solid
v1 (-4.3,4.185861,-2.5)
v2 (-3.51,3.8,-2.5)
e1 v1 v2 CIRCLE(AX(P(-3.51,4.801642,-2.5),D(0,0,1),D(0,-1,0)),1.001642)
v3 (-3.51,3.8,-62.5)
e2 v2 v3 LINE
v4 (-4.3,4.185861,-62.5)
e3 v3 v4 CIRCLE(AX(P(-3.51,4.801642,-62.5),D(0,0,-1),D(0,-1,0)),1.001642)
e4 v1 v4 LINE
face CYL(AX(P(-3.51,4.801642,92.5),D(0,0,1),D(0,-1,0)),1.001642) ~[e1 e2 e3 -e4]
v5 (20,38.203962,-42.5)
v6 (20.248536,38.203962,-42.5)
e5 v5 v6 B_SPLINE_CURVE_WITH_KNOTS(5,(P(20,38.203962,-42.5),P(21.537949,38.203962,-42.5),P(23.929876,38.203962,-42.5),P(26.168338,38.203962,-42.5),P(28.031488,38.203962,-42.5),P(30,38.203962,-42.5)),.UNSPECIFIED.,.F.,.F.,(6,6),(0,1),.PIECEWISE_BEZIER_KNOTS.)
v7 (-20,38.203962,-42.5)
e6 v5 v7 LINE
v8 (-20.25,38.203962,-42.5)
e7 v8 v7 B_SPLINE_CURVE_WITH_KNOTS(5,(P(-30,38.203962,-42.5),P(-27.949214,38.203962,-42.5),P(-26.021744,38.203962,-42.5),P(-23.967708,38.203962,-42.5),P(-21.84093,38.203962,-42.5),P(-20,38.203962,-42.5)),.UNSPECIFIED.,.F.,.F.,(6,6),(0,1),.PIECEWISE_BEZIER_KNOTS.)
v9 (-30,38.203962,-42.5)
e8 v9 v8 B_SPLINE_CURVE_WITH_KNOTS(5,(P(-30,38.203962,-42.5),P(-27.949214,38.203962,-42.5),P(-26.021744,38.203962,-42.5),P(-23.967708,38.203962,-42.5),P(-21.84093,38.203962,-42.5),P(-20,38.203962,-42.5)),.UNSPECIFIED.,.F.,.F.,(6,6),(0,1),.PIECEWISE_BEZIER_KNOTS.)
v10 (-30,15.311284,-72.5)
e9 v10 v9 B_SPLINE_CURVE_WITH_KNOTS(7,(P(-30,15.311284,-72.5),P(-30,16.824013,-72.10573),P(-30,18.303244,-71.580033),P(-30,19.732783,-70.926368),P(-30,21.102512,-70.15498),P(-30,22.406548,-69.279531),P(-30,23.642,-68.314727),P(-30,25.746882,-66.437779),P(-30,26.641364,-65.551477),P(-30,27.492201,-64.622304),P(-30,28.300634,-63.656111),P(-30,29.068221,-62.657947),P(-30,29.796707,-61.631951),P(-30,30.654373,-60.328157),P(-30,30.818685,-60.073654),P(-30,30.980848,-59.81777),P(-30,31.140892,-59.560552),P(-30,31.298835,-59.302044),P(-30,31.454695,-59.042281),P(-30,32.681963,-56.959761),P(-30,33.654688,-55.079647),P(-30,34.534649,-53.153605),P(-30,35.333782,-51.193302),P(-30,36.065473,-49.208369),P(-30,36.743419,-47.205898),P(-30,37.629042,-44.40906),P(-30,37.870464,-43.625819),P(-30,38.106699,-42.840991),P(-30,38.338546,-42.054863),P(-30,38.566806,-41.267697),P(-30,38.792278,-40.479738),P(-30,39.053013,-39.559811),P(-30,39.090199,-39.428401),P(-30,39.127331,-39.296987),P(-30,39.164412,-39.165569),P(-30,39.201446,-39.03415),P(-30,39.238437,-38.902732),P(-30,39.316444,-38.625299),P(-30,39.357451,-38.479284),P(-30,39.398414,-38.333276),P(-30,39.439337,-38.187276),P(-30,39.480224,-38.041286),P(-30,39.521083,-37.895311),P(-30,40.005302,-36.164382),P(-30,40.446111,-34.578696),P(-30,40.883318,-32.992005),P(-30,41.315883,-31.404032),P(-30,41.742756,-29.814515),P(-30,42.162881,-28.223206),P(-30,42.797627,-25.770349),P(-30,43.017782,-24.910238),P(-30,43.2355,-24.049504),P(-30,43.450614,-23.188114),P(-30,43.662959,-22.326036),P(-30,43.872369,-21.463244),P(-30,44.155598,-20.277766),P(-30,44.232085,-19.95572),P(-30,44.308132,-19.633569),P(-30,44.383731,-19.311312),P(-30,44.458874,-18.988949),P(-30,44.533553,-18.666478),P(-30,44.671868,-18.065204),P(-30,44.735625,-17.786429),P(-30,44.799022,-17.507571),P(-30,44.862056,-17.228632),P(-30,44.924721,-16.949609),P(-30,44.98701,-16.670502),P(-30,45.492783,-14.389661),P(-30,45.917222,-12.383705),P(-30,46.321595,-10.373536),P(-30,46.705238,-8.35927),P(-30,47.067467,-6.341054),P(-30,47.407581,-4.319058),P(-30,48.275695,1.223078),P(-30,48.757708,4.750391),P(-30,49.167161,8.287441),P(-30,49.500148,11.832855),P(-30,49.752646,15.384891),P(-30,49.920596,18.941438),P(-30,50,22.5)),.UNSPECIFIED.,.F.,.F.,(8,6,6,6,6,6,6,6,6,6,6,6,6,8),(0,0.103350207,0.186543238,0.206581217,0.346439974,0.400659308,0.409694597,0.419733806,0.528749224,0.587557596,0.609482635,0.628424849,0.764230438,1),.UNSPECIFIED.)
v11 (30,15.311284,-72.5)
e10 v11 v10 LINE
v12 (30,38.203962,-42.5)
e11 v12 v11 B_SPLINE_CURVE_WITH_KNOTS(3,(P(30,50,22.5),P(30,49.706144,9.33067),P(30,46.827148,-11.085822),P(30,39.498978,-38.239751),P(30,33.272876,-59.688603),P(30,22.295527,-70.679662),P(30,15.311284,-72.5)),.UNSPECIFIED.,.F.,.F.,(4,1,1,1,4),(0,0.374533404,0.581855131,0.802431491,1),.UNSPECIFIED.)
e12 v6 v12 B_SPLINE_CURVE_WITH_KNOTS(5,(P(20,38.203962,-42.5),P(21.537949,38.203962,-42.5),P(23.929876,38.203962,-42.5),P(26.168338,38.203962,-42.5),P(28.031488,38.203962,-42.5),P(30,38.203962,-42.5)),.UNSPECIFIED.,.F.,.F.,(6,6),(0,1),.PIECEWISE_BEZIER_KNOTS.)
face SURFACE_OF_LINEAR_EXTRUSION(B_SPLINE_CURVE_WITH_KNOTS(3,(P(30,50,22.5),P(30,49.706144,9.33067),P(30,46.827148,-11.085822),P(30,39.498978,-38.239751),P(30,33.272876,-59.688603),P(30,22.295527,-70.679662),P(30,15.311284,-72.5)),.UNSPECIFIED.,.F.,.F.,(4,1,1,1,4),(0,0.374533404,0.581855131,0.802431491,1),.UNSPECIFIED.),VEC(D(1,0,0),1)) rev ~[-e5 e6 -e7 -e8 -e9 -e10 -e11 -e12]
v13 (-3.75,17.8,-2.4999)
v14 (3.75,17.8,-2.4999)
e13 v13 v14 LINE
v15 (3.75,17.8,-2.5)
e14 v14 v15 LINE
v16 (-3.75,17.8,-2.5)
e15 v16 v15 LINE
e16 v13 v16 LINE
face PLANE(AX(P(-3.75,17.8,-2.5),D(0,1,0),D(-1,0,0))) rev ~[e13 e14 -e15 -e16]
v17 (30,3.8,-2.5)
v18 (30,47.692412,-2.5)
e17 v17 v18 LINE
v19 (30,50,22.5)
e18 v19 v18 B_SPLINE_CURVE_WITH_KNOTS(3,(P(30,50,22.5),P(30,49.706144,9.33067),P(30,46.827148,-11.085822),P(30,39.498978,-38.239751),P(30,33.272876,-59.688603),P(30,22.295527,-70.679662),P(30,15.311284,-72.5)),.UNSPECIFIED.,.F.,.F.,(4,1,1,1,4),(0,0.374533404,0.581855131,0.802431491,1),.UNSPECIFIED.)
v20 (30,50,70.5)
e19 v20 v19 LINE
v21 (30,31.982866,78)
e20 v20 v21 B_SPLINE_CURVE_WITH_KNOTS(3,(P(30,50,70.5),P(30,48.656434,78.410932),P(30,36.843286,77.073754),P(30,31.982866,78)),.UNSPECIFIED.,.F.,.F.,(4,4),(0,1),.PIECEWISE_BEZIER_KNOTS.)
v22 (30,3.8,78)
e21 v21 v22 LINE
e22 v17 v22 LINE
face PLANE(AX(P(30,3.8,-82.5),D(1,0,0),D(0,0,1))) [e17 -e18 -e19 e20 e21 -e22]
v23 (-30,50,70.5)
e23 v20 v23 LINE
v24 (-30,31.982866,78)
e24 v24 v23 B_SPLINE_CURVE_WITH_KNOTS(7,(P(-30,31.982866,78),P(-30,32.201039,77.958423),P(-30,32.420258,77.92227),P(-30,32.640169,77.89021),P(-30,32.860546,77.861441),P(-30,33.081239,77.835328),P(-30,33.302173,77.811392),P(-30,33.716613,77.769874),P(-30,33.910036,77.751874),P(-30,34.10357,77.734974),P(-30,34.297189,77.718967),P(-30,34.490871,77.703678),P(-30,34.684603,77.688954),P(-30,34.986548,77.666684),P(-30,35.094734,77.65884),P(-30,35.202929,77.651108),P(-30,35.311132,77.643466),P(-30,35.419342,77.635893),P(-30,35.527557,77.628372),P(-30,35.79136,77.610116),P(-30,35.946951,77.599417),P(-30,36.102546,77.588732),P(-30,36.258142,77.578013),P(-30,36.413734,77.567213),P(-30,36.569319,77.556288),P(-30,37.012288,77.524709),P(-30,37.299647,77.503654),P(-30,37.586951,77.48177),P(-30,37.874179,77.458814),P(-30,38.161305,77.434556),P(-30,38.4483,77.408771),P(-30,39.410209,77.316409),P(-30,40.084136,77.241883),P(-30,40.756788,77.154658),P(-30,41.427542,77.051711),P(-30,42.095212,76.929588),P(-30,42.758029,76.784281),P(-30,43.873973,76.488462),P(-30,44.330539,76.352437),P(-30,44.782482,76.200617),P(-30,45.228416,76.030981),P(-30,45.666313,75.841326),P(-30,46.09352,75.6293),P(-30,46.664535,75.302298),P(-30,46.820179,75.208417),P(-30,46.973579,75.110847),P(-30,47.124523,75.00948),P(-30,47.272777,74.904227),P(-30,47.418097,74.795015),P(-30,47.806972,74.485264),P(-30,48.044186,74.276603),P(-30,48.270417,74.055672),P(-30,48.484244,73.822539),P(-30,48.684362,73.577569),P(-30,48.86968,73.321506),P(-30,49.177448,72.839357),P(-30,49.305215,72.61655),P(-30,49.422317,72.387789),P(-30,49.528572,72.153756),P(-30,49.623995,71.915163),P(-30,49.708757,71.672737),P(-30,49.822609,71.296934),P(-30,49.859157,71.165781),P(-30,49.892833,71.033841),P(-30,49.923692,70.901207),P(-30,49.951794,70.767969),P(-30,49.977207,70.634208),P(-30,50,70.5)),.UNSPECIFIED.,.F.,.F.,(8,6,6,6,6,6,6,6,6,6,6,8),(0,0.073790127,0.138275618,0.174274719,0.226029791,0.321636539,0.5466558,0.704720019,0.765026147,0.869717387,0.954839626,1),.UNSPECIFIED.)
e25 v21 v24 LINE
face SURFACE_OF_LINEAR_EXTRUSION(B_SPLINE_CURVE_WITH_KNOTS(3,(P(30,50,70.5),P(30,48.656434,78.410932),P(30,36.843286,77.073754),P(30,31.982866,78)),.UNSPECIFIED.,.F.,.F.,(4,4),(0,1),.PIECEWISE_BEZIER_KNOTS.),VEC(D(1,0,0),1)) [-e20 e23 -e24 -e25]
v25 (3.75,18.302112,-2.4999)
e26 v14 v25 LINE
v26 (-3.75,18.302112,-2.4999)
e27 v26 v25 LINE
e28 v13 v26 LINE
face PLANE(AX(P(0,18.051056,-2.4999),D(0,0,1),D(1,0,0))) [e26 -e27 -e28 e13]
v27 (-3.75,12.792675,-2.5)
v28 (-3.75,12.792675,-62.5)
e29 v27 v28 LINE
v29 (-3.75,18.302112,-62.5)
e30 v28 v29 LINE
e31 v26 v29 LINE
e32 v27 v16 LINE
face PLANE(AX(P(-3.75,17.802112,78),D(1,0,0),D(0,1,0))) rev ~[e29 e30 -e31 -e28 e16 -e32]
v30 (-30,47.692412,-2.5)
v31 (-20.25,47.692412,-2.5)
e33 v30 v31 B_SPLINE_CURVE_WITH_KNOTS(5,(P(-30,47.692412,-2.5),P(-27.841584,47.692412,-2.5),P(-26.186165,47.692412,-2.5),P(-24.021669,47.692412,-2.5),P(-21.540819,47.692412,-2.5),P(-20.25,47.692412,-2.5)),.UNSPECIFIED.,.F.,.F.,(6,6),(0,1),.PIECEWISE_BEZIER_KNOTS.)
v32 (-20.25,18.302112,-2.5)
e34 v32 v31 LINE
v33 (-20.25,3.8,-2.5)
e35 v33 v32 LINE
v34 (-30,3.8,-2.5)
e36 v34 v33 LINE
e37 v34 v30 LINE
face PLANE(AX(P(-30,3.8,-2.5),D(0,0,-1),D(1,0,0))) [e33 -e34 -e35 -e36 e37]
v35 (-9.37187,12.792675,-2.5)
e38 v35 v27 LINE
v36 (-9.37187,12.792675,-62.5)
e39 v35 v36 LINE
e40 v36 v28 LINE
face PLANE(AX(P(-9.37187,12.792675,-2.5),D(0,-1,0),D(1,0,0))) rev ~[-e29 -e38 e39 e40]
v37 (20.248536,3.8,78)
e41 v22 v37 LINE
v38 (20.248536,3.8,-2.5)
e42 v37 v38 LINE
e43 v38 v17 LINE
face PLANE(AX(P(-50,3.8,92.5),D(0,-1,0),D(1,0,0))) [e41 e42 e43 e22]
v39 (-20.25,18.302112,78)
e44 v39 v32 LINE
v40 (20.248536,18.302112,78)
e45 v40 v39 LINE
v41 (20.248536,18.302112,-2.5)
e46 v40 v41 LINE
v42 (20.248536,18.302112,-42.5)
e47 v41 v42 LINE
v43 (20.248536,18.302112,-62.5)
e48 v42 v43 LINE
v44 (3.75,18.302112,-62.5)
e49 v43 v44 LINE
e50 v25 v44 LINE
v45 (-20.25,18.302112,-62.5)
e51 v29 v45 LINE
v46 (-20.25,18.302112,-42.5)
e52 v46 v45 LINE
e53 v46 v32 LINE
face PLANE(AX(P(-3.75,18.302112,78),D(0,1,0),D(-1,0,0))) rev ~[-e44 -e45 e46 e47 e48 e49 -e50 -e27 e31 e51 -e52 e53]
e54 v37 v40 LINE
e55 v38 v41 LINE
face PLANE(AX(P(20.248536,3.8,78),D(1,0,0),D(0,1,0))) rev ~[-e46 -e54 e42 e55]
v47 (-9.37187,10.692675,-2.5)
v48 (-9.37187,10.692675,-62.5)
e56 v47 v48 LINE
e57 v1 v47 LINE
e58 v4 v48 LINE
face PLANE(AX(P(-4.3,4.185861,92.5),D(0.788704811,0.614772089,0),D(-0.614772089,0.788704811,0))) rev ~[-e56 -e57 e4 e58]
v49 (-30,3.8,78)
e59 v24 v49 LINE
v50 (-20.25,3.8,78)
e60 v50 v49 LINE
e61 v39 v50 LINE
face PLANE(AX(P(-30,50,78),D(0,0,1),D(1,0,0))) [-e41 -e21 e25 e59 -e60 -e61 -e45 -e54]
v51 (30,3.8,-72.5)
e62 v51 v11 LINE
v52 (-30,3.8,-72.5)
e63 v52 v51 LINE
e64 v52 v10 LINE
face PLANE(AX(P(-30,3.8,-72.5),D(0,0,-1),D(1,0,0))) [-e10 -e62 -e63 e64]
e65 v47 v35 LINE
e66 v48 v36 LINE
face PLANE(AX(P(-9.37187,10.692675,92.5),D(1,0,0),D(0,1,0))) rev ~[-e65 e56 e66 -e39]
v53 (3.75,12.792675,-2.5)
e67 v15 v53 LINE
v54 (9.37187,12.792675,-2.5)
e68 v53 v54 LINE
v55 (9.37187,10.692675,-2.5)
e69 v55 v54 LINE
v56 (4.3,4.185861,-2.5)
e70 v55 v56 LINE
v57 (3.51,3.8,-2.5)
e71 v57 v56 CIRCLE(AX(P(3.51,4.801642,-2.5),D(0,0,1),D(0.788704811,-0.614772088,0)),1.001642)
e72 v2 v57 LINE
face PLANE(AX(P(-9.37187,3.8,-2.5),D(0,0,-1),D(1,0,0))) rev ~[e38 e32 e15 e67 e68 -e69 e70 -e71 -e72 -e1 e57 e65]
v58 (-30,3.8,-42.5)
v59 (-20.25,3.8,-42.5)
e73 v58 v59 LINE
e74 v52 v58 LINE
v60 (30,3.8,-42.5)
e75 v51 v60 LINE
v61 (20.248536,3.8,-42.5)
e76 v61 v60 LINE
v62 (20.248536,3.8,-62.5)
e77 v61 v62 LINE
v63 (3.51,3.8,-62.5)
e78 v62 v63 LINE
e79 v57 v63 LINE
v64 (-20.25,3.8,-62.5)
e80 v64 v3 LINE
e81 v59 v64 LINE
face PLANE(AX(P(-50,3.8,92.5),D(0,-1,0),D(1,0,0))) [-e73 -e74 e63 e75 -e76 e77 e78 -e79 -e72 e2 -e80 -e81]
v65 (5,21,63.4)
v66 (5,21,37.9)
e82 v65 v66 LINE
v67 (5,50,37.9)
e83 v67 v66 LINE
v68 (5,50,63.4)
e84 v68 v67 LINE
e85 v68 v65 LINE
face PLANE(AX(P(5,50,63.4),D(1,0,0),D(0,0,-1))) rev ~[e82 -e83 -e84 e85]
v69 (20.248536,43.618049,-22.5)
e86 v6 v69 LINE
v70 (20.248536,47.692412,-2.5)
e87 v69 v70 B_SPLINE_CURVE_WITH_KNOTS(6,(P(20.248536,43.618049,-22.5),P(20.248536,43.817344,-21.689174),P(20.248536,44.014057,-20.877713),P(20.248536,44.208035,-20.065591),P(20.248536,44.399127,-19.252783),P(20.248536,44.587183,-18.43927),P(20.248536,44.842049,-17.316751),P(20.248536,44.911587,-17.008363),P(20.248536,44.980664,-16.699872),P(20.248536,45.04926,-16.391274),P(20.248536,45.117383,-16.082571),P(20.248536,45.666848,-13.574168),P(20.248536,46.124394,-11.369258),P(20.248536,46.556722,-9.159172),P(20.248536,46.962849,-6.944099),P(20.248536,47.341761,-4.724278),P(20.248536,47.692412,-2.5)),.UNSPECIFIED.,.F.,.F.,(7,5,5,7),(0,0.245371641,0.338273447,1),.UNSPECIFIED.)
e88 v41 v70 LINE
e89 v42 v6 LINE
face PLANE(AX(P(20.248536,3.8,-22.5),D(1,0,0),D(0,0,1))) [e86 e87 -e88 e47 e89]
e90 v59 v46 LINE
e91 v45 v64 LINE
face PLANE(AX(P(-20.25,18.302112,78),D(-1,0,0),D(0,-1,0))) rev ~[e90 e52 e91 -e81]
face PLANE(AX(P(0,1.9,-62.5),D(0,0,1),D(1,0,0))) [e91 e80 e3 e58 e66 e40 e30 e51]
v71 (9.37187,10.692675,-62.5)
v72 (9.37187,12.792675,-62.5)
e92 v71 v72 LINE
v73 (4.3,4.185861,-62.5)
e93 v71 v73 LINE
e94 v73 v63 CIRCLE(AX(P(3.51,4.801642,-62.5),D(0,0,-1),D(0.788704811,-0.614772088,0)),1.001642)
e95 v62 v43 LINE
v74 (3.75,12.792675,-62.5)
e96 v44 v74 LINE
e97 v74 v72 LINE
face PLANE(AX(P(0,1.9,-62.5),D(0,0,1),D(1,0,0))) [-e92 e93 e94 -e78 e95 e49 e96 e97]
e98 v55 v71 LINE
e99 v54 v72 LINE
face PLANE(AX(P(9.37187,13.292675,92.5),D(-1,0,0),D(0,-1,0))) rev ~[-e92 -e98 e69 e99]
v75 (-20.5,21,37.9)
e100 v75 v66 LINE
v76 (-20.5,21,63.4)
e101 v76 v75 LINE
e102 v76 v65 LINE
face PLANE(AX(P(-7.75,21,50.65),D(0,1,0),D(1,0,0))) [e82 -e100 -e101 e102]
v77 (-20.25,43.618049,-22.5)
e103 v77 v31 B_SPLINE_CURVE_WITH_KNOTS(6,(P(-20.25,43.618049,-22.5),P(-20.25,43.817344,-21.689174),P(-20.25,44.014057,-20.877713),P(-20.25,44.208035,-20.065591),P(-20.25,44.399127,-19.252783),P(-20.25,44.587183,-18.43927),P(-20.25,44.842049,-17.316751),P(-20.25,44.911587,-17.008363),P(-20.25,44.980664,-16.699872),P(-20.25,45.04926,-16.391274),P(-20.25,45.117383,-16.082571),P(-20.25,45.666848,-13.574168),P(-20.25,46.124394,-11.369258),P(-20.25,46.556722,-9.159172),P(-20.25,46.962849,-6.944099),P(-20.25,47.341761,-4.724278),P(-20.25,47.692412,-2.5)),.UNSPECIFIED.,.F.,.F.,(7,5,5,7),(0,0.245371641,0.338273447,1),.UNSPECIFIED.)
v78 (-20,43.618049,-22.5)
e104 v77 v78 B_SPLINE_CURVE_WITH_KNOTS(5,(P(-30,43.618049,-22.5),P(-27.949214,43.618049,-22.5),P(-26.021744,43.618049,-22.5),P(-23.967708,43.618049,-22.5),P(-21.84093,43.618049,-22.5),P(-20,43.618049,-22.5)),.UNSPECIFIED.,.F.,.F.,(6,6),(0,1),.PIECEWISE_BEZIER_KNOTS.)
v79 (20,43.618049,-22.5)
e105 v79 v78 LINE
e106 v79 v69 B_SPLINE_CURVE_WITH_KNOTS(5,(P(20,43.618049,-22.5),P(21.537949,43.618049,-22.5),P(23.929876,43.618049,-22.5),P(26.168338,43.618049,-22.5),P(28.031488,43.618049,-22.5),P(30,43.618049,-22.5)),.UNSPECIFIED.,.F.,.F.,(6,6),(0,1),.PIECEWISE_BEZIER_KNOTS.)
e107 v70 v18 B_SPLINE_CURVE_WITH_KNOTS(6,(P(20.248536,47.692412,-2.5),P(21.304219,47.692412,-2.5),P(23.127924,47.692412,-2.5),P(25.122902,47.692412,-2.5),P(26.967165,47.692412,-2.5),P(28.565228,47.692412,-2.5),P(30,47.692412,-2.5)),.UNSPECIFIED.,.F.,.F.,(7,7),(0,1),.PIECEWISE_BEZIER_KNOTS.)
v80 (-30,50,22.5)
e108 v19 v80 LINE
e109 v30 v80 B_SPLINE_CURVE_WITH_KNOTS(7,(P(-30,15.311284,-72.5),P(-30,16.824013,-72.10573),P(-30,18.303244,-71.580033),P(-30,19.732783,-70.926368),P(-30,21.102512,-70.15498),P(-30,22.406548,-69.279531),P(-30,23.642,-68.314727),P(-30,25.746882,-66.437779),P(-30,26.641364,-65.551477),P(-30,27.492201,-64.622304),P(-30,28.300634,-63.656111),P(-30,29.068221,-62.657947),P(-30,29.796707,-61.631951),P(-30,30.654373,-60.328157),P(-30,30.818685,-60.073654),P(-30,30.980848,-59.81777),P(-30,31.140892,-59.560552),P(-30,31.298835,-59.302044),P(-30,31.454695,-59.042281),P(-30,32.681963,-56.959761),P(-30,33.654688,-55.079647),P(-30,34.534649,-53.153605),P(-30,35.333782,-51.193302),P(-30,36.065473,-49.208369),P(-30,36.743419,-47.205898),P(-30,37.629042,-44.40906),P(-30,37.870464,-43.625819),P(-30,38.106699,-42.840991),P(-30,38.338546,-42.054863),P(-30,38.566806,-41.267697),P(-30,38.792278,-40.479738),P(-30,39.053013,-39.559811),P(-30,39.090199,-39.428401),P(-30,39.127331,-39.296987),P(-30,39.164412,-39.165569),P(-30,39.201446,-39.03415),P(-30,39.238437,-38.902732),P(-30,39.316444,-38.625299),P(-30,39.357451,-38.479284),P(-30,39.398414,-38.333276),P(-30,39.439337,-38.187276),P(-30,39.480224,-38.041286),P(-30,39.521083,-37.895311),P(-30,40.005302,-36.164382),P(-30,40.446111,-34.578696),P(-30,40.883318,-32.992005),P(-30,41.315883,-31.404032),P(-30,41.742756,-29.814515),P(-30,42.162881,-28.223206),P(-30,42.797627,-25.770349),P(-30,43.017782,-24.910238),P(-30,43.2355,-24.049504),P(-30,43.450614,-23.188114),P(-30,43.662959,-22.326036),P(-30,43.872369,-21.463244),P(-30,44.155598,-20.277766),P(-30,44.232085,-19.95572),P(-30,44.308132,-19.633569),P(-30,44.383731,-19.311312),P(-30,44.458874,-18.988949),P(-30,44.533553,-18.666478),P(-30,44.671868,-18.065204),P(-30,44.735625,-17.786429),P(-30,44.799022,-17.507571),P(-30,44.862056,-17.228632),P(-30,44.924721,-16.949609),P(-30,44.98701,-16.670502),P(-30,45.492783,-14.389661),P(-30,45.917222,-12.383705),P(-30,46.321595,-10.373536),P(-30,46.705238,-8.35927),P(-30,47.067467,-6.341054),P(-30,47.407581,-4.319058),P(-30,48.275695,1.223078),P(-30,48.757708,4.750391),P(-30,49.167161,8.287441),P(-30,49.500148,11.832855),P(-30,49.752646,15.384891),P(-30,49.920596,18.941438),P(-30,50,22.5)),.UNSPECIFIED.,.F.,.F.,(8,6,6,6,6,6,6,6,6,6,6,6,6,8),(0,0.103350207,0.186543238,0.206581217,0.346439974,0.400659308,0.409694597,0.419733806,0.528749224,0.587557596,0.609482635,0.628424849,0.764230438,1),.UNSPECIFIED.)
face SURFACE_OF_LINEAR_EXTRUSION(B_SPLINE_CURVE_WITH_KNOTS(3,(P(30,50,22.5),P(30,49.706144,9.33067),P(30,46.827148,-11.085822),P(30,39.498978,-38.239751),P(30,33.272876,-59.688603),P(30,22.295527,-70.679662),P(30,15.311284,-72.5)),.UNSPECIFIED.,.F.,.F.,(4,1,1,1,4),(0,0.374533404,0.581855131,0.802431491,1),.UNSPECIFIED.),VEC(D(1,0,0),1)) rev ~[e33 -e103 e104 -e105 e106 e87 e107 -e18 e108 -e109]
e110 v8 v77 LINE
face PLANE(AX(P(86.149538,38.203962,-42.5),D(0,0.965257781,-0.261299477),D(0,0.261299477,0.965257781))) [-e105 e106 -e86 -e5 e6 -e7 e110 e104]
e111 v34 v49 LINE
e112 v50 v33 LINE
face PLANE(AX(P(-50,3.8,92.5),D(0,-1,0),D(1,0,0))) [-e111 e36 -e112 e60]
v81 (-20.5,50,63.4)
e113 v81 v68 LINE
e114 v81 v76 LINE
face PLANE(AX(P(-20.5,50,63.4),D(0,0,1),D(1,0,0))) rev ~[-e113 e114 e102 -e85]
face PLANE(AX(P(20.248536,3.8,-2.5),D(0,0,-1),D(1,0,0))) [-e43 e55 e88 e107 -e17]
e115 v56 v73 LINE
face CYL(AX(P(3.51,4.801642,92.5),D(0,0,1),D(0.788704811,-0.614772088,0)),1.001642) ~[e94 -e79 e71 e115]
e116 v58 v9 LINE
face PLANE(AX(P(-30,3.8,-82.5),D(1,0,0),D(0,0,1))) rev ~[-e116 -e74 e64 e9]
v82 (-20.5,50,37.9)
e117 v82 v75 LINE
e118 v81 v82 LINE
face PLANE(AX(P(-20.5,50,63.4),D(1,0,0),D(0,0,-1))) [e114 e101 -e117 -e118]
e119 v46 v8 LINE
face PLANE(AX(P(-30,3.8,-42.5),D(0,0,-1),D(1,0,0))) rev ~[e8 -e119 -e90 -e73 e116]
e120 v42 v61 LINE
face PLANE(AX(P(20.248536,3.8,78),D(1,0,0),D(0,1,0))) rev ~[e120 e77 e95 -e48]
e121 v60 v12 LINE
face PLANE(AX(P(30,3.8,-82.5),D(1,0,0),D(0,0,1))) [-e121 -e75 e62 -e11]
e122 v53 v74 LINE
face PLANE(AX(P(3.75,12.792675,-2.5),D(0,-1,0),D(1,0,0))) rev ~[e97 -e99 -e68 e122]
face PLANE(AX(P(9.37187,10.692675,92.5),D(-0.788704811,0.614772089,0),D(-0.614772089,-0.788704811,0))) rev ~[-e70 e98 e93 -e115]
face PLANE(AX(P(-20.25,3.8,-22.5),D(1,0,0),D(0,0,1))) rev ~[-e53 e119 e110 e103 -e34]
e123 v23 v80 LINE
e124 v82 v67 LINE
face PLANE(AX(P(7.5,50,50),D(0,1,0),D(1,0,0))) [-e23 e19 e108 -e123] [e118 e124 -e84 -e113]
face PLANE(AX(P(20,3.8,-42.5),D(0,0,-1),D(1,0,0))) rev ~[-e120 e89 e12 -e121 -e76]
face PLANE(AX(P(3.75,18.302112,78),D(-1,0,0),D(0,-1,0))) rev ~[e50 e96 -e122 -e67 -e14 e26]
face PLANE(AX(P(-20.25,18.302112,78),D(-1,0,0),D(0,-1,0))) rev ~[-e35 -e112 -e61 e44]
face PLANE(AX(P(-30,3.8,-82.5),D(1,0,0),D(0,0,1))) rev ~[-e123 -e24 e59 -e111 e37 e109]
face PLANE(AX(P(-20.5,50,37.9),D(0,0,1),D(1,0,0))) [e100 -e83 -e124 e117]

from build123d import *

# Parameters (mm, degrees)
SKETCH_1_W                = 100
SKETCH_1_H                = 185
EXTRUDE_1_DEPTH           = 100
SKETCH_2_W                = 100
SKETCH_2_H                = 3.8
CUT_EXTRUDE_1_DEPTH       = 155
CUT_EXTRUDE_2_DEPTH       = 155
SKETCH_4_W                = 25.5
SKETCH_4_H                = 25.5
CUT_EXTRUDE_3_DEPTH       = 79
SKETCH_6_W                = 89.706259743
SKETCH_6_H                = 10
SKETCH_6_W_2              = 10.293740257
CUT_EXTRUDE_4_DEPTH       = 146.107718609
CUT_EXTRUDE_5_DEPTH       = 169.985946161
CUT_EXTRUDE_5_DEPTH_BACK  = 169.985946161
SKETCH_7_W                = 20
SKETCH_7_H                = 3.8
EXTRUDE_4_DEPTH           = 160
SKETCH_10_W               = 16
SKETCH_10_H               = 1.8
CUT_EXTRUDE_6_DEPTH       = 155
SKETCH_13_W               = 20
SKETCH_13_H               = 175
CUT_EXTRUDE_7_DEPTH       = 143.515578096
SKETCH_14_W               = 175
SKETCH_14_H               = 50
CUT_EXTRUDE_8_DEPTH       = 149.849756466
SKETCH_15_W               = 60
SKETCH_15_H               = 10
CUT_EXTRUDE_9_DEPTH       = 108.660066877
SKETCH_16_W               = 60
SKETCH_16_H               = 14.5
CUT_EXTRUDE_10_DEPTH      = 108.660066877
CUT_EXTRUDE_11_DEPTH      = 111.381157812
CUT_EXTRUDE_21_DEPTH      = 162.400898529
CUT_EXTRUDE_21_DEPTH_BACK = 140.5
CUT_EXTRUDE_26_DEPTH      = 111.381157983
SKETCH_34_W               = 10
SKETCH_34_H               = 20
CUT_EXTRUDE_31_DEPTH      = 96.490523251
SKETCH_35_W               = 18.74373947
SKETCH_35_H               = 80.5
CUT_EXTRUDE_32_DEPTH      = 14
CUT_EXTRUDE_35_DEPTH      = 60
CUT_EXTRUDE_36_DEPTH      = 140.5
SKETCH_43_W               = 0.25
SKETCH_43_H               = 0.002112168
CUT_EXTRUDE_37_DEPTH      = 140.5
SKETCH_44_W               = 7.5
SKETCH_44_H               = 0.502112168
CUT_EXTRUDE_38_DEPTH      = 80.4999
SKETCH_45_W               = 9.75
SKETCH_45_H               = 20
SKETCH_45_W_2             = 9.75146362
CUT_EXTRUDE_39_DEPTH      = 96.490523251
SKETCH_46_W               = 0.24853638
SKETCH_46_H               = 20
SKETCH_46_W_2             = 0.25
EXTRUDE_5_DEPTH           = 31.697888
CUT_EXTRUDE_40_DEPTH      = 106.399537724
CUT_EXTRUDE_40_DEPTH_BACK = 106.399537724
SKETCH_54_W               = 25.5
SKETCH_54_H               = 0.5
CUT_EXTRUDE_41_DEPTH      = 29
SKETCH_55_W               = 26
SKETCH_55_H               = 26
EXTRUDE_6_DEPTH           = 29
SKETCH_56_W               = 25.5
SKETCH_56_H               = 25.5
CUT_EXTRUDE_42_DEPTH      = 29


with BuildPart() as part:
    # 草图1 → 凸台-拉伸1 (new body)
    with BuildSketch(Plane(origin=(0, 0, 0), x_dir=(1, 0, 0), z_dir=(0, 1, 0))):
        Rectangle(SKETCH_1_W, SKETCH_1_H)
    extrude(amount=EXTRUDE_1_DEPTH)

    # 草图2 → 切除-拉伸1 (cut)
    with BuildSketch(Plane.XY.offset(92.5)):
        with Locations((0, 1.9)):
            Rectangle(SKETCH_2_W, SKETCH_2_H)
    extrude(amount=-CUT_EXTRUDE_1_DEPTH, mode=Mode.SUBTRACT)

    # 草图3 → 切除-拉伸2 (cut)
    with BuildSketch(Plane.XY.offset(92.5)):
        with BuildLine():
            Line((-20, 3.8), (-3.51, 3.8))
            ThreePointArc((-3.51, 3.8), (-3.949598778, 3.901619975), (-4.3, 4.185860522))
            Line((-4.3, 4.185860522), (-9.371869735, 10.69267521))
            ThreePointArc((-9.371869735, 10.69267521), (-9.267749528, 11.143089764), (-8.9765156, 11.502112168))
            Line((-8.9765156, 11.502112168), (-4.5, 11.502112168))
            ThreePointArc((-4.5, 11.502112168), (-4.146446609, 11.648558777), (-4, 12.002112168))
            Line((-4, 12.002112168), (-4, 16.002112168))
            Line((-4, 16.002112168), (-20, 16.002112168))
            Line((-20, 16.002112168), (-20, 3.8))
        make_face()
        with BuildLine():
            ThreePointArc((4.3, 4.185860522), (3.949598778, 3.901619975), (3.51, 3.8))
            Line((3.51, 3.8), (20, 3.8))
            Line((20, 3.8), (20, 16.002112168))
            Line((20, 16.002112168), (4, 16.002112168))
            Line((4, 16.002112168), (4, 12.002112168))
            ThreePointArc((4, 12.002112168), (4.146446609, 11.648558777), (4.5, 11.502112168))
            Line((4.5, 11.502112168), (8.9765156, 11.502112168))
            ThreePointArc((8.9765156, 11.502112168), (9.426930154, 11.220838522), (9.371869735, 10.69267521))
            Line((9.371869735, 10.69267521), (4.3, 4.185860522))
        make_face()
    extrude(amount=-CUT_EXTRUDE_2_DEPTH, mode=Mode.SUBTRACT)

    # 草图4 → 切除-拉伸3 (cut)
    with BuildSketch(Plane(origin=(0, 100, 0), x_dir=(1, 0, 0), z_dir=(0, 1, 0))):
        with Locations((7.75, -50.25)):
            Rectangle(SKETCH_4_W, SKETCH_4_H)
    extrude(amount=-CUT_EXTRUDE_3_DEPTH, mode=Mode.SUBTRACT)

    # 草图6 → 切除-拉伸4 (cut, through all)
    with BuildSketch(Plane(origin=(0, 100, 0), x_dir=(1, 0, 0), z_dir=(0, 1, 0))):
        with Locations((5.146870128, 87.5)):
            Rectangle(SKETCH_6_W, SKETCH_6_H)
        with Locations((-44.853129872, 87.5)):
            Rectangle(SKETCH_6_W_2, SKETCH_6_H)
    extrude(amount=-CUT_EXTRUDE_4_DEPTH, mode=Mode.SUBTRACT)

    # 草图7 → 切除-拉伸5 (cut, two sides: drawn at the far end of the back side and taken through both)
    with BuildSketch(Plane.ZY.offset(50).offset(-CUT_EXTRUDE_5_DEPTH_BACK)):
        with Locations((-72.5, 1.9)):
            Rectangle(SKETCH_7_W, SKETCH_7_H)
    extrude(amount=CUT_EXTRUDE_5_DEPTH + CUT_EXTRUDE_5_DEPTH_BACK, mode=Mode.SUBTRACT)

    # 草图9 → 凸台-拉伸4 (add)
    with BuildSketch(Plane.XY.offset(92.5)):
        Polygon((-9.371869735, 10.69267521), (-9.371869735, 13.29267521), (-4, 13.29267521), (4, 13.29267521), (9.371869735, 13.29267521), (9.371869735, 10.69267521), align=None)
    extrude(amount=-EXTRUDE_4_DEPTH)

    # 草图10 → 切除-拉伸6 (cut)
    with BuildSketch(Plane.XY.offset(92.5)):
        with Locations((-12, 16.902112168)):
            Rectangle(SKETCH_10_W, SKETCH_10_H)
        Polygon((4, 16.002112168), (4, 17.802112168), (19.99853638, 17.802112168), (20, 16.002112168), align=None)
    extrude(amount=-CUT_EXTRUDE_6_DEPTH, mode=Mode.SUBTRACT)

    # 草图13 → 切除-拉伸7 (cut, through all)
    with BuildSketch(Plane.XZ.offset(-3.8)):
        with Locations((-40, 5)):
            Rectangle(SKETCH_13_W, SKETCH_13_H)
        with Locations((40, 5)):
            Rectangle(SKETCH_13_W, SKETCH_13_H)
    extrude(amount=-CUT_EXTRUDE_7_DEPTH, mode=Mode.SUBTRACT)

    # 草图14 → 切除-拉伸8 (cut, through all)
    with BuildSketch(Plane(origin=(30, 0, 0), x_dir=(0, 0, -1), z_dir=(1, 0, 0))):
        with Locations((-5, 75)):
            Rectangle(SKETCH_14_W, SKETCH_14_H)
    extrude(amount=-CUT_EXTRUDE_8_DEPTH, mode=Mode.SUBTRACT)

    # 草图15 → 切除-拉伸9 (cut, through all)
    with BuildSketch(Plane.XZ.offset(-3.8)):
        with Locations((0, -77.5)):
            Rectangle(SKETCH_15_W, SKETCH_15_H)
    extrude(amount=-CUT_EXTRUDE_9_DEPTH, mode=Mode.SUBTRACT)

    # 草图16 → 切除-拉伸10 (cut, through all)
    with BuildSketch(Plane(origin=(0, 50, 0), x_dir=(1, 0, 0), z_dir=(0, 1, 0))):
        with Locations((0, -85.25)):
            Rectangle(SKETCH_16_W, SKETCH_16_H)
    extrude(amount=-CUT_EXTRUDE_10_DEPTH, mode=Mode.SUBTRACT)

    # 草图17 → 切除-拉伸11 (cut, through all)
    with BuildSketch(Plane(origin=(30, 0, 0), x_dir=(0, 0, -1), z_dir=(1, 0, 0))):
        with BuildLine():
            Line((72.5, 50), (-22.5, 50))
            add(Edge.make_bspline(
                [(-22.5, 50), (-9.330669895, 49.706144403), (11.085821801, 46.827148239), (38.239751221, 39.498978447), (59.688603115, 33.272875951), (70.679662454, 22.295526596), (72.5, 15.311284203)],
                knots=[0, 0, 0, 0, 0.374533404, 0.581855131, 0.802431491, 1, 1, 1, 1], degree=3))
            Line((72.5, 15.311284203), (72.5, 50))
        make_face()
    extrude(amount=-CUT_EXTRUDE_11_DEPTH, mode=Mode.SUBTRACT)

    # 草图24 → 切除-拉伸21 (cut, two sides: drawn at the far end of the back side and taken through both)
    with BuildSketch(Plane.XY.offset(78).offset(-CUT_EXTRUDE_21_DEPTH_BACK)):
        with BuildLine():
            Line((9.371869735, 11.309008937), (9.371869735, 10.69267521))
            ThreePointArc((9.371869735, 10.69267521), (9.477785695, 11.000842073), (9.371869735, 11.309008937))
        make_face()
    extrude(amount=CUT_EXTRUDE_21_DEPTH + CUT_EXTRUDE_21_DEPTH_BACK, mode=Mode.SUBTRACT)

    # 草图28 → 切除-拉伸26 (cut, through all)
    with BuildSketch(Plane(origin=(30, 0, 0), x_dir=(0, 0, -1), z_dir=(1, 0, 0))):
        with BuildLine():
            Line((-70.5, 50), (-78, 50))
            Line((-78, 50), (-78, 31.982866201))
            add(Edge.make_bspline(
                [(-70.5, 50), (-78.410932033, 48.656434308), (-77.0737544, 36.843285786), (-78, 31.982866201)],
                knots=[0, 0, 0, 0, 1, 1, 1, 1], degree=3))
        make_face()
    extrude(amount=-CUT_EXTRUDE_26_DEPTH, mode=Mode.SUBTRACT)

    # 草图34 → 切除-拉伸31 (cut, through all)
    with BuildSketch(Plane.XZ.offset(-3.8)):
        with Locations((-25, -32.5)):
            Rectangle(SKETCH_34_W, SKETCH_34_H)
        with Locations((25, -32.5)):
            Rectangle(SKETCH_34_W, SKETCH_34_H)
    extrude(amount=-CUT_EXTRUDE_31_DEPTH, mode=Mode.SUBTRACT)

    # 草图35 → 切除-拉伸32 (cut)
    with BuildSketch(Plane.XZ.offset(-3.8)):
        with Locations((0, 37.75)):
            Rectangle(SKETCH_35_W, SKETCH_35_H)
    extrude(amount=-CUT_EXTRUDE_32_DEPTH, mode=Mode.SUBTRACT)

    # 草图40 → 切除-拉伸35 (cut)
    with BuildSketch(Plane.XY.offset(-2.5)):
        Polygon((4, 13.29267521), (4, 17.8), (3.75, 17.8), (3.75, 12.79267521), (9.371869735, 12.79267521), (9.371869735, 13.29267521), align=None)
        Polygon((-3.75, 17.8), (-4, 17.8), (-4, 13.29267521), (-9.371869735, 13.29267521), (-9.371869735, 12.79267521), (-3.75, 12.79267521), align=None)
    extrude(amount=-CUT_EXTRUDE_35_DEPTH, mode=Mode.SUBTRACT)

    # 草图41 → 切除-拉伸36 (cut)
    with BuildSketch(Plane.XY.offset(78)):
        Polygon((-3.75, 18.302112168), (-20.25, 18.302112168), (-20.25, 3.8), (-20, 3.8), (-20, 17.802112168), (-3.75, 17.802112168), align=None)
        Polygon((3.75, 18.302112168), (3.75, 17.802112168), (19.99853638, 17.802112168), (19.99853638, 3.8), (20.24853638, 3.8), (20.24853638, 18.302112168), align=None)
    extrude(amount=-CUT_EXTRUDE_36_DEPTH, mode=Mode.SUBTRACT)

    # 草图43 → 切除-拉伸37 (cut)
    with BuildSketch(Plane.XY.offset(78)):
        with Locations((-3.875, 17.801056084)):
            Rectangle(SKETCH_43_W, SKETCH_43_H)
        with Locations((3.875, 17.801056084)):
            Rectangle(SKETCH_43_W, SKETCH_43_H)
    extrude(amount=-CUT_EXTRUDE_37_DEPTH, mode=Mode.SUBTRACT)

    # 草图44 → 切除-拉伸38 (cut)
    with BuildSketch(Plane.XY.offset(78)):
        with Locations((0, 18.051056084)):
            Rectangle(SKETCH_44_W, SKETCH_44_H)
    extrude(amount=-CUT_EXTRUDE_38_DEPTH, mode=Mode.SUBTRACT)

    # 草图45 → 切除-拉伸39 (cut, through all)
    with BuildSketch(Plane.XZ.offset(-3.8)):
        with Locations((-25.125, -12.5)):
            Rectangle(SKETCH_45_W, SKETCH_45_H)
        with Locations((25.12426819, -12.5)):
            Rectangle(SKETCH_45_W_2, SKETCH_45_H)
    extrude(amount=-CUT_EXTRUDE_39_DEPTH, mode=Mode.SUBTRACT)

    # 草图46 → 凸台-拉伸5 (add, through all)
    with BuildSketch(Plane.XZ.offset(-18.302112168)):
        with Locations((20.12426819, -32.5)):
            Rectangle(SKETCH_46_W, SKETCH_46_H)
        with Locations((-20.125, -32.5)):
            Rectangle(SKETCH_46_W_2, SKETCH_46_H)
    extrude(amount=-EXTRUDE_5_DEPTH)

    # 草图47 → 切除-拉伸40 (cut, two sides: drawn at the far end of the back side and taken through both)
    with BuildSketch(Plane.ZY.offset(20.25).offset(-CUT_EXTRUDE_40_DEPTH_BACK)):
        Polygon((-42.5, 38.203961841), (-22.5, 43.618048783), (-22.5, 50), (-42.5, 50), align=None)
    extrude(amount=CUT_EXTRUDE_40_DEPTH + CUT_EXTRUDE_40_DEPTH_BACK, mode=Mode.SUBTRACT)

    # 草图54 → 切除-拉伸41 (cut)
    with BuildSketch(Plane(origin=(0, 50, 0), x_dir=(1, 0, 0), z_dir=(0, 1, 0))):
        with Locations((7.75, -37.25)):
            Rectangle(SKETCH_54_W, SKETCH_54_H)
        Polygon((-5, -63), (-5, -37.5), (-5, -37), (-5.5, -37), (-5.5, -63), align=None)
    extrude(amount=-CUT_EXTRUDE_41_DEPTH, mode=Mode.SUBTRACT)

    # 草图55 → 凸台-拉伸6 (add)
    with BuildSketch(Plane(origin=(0, 50, 0), x_dir=(1, 0, 0), z_dir=(0, 1, 0))):
        with Locations((7.5, -50)):
            Rectangle(SKETCH_55_W, SKETCH_55_H)
    extrude(amount=-EXTRUDE_6_DEPTH)

    # 草图56 → 切除-拉伸42 (cut)
    with BuildSketch(Plane(origin=(0, 50, 0), x_dir=(1, 0, 0), z_dir=(0, 1, 0))):
        with Locations((-7.75, -50.65)):
            Rectangle(SKETCH_56_W, SKETCH_56_H)
    extrude(amount=-CUT_EXTRUDE_42_DEPTH, mode=Mode.SUBTRACT)


solid = part.part
